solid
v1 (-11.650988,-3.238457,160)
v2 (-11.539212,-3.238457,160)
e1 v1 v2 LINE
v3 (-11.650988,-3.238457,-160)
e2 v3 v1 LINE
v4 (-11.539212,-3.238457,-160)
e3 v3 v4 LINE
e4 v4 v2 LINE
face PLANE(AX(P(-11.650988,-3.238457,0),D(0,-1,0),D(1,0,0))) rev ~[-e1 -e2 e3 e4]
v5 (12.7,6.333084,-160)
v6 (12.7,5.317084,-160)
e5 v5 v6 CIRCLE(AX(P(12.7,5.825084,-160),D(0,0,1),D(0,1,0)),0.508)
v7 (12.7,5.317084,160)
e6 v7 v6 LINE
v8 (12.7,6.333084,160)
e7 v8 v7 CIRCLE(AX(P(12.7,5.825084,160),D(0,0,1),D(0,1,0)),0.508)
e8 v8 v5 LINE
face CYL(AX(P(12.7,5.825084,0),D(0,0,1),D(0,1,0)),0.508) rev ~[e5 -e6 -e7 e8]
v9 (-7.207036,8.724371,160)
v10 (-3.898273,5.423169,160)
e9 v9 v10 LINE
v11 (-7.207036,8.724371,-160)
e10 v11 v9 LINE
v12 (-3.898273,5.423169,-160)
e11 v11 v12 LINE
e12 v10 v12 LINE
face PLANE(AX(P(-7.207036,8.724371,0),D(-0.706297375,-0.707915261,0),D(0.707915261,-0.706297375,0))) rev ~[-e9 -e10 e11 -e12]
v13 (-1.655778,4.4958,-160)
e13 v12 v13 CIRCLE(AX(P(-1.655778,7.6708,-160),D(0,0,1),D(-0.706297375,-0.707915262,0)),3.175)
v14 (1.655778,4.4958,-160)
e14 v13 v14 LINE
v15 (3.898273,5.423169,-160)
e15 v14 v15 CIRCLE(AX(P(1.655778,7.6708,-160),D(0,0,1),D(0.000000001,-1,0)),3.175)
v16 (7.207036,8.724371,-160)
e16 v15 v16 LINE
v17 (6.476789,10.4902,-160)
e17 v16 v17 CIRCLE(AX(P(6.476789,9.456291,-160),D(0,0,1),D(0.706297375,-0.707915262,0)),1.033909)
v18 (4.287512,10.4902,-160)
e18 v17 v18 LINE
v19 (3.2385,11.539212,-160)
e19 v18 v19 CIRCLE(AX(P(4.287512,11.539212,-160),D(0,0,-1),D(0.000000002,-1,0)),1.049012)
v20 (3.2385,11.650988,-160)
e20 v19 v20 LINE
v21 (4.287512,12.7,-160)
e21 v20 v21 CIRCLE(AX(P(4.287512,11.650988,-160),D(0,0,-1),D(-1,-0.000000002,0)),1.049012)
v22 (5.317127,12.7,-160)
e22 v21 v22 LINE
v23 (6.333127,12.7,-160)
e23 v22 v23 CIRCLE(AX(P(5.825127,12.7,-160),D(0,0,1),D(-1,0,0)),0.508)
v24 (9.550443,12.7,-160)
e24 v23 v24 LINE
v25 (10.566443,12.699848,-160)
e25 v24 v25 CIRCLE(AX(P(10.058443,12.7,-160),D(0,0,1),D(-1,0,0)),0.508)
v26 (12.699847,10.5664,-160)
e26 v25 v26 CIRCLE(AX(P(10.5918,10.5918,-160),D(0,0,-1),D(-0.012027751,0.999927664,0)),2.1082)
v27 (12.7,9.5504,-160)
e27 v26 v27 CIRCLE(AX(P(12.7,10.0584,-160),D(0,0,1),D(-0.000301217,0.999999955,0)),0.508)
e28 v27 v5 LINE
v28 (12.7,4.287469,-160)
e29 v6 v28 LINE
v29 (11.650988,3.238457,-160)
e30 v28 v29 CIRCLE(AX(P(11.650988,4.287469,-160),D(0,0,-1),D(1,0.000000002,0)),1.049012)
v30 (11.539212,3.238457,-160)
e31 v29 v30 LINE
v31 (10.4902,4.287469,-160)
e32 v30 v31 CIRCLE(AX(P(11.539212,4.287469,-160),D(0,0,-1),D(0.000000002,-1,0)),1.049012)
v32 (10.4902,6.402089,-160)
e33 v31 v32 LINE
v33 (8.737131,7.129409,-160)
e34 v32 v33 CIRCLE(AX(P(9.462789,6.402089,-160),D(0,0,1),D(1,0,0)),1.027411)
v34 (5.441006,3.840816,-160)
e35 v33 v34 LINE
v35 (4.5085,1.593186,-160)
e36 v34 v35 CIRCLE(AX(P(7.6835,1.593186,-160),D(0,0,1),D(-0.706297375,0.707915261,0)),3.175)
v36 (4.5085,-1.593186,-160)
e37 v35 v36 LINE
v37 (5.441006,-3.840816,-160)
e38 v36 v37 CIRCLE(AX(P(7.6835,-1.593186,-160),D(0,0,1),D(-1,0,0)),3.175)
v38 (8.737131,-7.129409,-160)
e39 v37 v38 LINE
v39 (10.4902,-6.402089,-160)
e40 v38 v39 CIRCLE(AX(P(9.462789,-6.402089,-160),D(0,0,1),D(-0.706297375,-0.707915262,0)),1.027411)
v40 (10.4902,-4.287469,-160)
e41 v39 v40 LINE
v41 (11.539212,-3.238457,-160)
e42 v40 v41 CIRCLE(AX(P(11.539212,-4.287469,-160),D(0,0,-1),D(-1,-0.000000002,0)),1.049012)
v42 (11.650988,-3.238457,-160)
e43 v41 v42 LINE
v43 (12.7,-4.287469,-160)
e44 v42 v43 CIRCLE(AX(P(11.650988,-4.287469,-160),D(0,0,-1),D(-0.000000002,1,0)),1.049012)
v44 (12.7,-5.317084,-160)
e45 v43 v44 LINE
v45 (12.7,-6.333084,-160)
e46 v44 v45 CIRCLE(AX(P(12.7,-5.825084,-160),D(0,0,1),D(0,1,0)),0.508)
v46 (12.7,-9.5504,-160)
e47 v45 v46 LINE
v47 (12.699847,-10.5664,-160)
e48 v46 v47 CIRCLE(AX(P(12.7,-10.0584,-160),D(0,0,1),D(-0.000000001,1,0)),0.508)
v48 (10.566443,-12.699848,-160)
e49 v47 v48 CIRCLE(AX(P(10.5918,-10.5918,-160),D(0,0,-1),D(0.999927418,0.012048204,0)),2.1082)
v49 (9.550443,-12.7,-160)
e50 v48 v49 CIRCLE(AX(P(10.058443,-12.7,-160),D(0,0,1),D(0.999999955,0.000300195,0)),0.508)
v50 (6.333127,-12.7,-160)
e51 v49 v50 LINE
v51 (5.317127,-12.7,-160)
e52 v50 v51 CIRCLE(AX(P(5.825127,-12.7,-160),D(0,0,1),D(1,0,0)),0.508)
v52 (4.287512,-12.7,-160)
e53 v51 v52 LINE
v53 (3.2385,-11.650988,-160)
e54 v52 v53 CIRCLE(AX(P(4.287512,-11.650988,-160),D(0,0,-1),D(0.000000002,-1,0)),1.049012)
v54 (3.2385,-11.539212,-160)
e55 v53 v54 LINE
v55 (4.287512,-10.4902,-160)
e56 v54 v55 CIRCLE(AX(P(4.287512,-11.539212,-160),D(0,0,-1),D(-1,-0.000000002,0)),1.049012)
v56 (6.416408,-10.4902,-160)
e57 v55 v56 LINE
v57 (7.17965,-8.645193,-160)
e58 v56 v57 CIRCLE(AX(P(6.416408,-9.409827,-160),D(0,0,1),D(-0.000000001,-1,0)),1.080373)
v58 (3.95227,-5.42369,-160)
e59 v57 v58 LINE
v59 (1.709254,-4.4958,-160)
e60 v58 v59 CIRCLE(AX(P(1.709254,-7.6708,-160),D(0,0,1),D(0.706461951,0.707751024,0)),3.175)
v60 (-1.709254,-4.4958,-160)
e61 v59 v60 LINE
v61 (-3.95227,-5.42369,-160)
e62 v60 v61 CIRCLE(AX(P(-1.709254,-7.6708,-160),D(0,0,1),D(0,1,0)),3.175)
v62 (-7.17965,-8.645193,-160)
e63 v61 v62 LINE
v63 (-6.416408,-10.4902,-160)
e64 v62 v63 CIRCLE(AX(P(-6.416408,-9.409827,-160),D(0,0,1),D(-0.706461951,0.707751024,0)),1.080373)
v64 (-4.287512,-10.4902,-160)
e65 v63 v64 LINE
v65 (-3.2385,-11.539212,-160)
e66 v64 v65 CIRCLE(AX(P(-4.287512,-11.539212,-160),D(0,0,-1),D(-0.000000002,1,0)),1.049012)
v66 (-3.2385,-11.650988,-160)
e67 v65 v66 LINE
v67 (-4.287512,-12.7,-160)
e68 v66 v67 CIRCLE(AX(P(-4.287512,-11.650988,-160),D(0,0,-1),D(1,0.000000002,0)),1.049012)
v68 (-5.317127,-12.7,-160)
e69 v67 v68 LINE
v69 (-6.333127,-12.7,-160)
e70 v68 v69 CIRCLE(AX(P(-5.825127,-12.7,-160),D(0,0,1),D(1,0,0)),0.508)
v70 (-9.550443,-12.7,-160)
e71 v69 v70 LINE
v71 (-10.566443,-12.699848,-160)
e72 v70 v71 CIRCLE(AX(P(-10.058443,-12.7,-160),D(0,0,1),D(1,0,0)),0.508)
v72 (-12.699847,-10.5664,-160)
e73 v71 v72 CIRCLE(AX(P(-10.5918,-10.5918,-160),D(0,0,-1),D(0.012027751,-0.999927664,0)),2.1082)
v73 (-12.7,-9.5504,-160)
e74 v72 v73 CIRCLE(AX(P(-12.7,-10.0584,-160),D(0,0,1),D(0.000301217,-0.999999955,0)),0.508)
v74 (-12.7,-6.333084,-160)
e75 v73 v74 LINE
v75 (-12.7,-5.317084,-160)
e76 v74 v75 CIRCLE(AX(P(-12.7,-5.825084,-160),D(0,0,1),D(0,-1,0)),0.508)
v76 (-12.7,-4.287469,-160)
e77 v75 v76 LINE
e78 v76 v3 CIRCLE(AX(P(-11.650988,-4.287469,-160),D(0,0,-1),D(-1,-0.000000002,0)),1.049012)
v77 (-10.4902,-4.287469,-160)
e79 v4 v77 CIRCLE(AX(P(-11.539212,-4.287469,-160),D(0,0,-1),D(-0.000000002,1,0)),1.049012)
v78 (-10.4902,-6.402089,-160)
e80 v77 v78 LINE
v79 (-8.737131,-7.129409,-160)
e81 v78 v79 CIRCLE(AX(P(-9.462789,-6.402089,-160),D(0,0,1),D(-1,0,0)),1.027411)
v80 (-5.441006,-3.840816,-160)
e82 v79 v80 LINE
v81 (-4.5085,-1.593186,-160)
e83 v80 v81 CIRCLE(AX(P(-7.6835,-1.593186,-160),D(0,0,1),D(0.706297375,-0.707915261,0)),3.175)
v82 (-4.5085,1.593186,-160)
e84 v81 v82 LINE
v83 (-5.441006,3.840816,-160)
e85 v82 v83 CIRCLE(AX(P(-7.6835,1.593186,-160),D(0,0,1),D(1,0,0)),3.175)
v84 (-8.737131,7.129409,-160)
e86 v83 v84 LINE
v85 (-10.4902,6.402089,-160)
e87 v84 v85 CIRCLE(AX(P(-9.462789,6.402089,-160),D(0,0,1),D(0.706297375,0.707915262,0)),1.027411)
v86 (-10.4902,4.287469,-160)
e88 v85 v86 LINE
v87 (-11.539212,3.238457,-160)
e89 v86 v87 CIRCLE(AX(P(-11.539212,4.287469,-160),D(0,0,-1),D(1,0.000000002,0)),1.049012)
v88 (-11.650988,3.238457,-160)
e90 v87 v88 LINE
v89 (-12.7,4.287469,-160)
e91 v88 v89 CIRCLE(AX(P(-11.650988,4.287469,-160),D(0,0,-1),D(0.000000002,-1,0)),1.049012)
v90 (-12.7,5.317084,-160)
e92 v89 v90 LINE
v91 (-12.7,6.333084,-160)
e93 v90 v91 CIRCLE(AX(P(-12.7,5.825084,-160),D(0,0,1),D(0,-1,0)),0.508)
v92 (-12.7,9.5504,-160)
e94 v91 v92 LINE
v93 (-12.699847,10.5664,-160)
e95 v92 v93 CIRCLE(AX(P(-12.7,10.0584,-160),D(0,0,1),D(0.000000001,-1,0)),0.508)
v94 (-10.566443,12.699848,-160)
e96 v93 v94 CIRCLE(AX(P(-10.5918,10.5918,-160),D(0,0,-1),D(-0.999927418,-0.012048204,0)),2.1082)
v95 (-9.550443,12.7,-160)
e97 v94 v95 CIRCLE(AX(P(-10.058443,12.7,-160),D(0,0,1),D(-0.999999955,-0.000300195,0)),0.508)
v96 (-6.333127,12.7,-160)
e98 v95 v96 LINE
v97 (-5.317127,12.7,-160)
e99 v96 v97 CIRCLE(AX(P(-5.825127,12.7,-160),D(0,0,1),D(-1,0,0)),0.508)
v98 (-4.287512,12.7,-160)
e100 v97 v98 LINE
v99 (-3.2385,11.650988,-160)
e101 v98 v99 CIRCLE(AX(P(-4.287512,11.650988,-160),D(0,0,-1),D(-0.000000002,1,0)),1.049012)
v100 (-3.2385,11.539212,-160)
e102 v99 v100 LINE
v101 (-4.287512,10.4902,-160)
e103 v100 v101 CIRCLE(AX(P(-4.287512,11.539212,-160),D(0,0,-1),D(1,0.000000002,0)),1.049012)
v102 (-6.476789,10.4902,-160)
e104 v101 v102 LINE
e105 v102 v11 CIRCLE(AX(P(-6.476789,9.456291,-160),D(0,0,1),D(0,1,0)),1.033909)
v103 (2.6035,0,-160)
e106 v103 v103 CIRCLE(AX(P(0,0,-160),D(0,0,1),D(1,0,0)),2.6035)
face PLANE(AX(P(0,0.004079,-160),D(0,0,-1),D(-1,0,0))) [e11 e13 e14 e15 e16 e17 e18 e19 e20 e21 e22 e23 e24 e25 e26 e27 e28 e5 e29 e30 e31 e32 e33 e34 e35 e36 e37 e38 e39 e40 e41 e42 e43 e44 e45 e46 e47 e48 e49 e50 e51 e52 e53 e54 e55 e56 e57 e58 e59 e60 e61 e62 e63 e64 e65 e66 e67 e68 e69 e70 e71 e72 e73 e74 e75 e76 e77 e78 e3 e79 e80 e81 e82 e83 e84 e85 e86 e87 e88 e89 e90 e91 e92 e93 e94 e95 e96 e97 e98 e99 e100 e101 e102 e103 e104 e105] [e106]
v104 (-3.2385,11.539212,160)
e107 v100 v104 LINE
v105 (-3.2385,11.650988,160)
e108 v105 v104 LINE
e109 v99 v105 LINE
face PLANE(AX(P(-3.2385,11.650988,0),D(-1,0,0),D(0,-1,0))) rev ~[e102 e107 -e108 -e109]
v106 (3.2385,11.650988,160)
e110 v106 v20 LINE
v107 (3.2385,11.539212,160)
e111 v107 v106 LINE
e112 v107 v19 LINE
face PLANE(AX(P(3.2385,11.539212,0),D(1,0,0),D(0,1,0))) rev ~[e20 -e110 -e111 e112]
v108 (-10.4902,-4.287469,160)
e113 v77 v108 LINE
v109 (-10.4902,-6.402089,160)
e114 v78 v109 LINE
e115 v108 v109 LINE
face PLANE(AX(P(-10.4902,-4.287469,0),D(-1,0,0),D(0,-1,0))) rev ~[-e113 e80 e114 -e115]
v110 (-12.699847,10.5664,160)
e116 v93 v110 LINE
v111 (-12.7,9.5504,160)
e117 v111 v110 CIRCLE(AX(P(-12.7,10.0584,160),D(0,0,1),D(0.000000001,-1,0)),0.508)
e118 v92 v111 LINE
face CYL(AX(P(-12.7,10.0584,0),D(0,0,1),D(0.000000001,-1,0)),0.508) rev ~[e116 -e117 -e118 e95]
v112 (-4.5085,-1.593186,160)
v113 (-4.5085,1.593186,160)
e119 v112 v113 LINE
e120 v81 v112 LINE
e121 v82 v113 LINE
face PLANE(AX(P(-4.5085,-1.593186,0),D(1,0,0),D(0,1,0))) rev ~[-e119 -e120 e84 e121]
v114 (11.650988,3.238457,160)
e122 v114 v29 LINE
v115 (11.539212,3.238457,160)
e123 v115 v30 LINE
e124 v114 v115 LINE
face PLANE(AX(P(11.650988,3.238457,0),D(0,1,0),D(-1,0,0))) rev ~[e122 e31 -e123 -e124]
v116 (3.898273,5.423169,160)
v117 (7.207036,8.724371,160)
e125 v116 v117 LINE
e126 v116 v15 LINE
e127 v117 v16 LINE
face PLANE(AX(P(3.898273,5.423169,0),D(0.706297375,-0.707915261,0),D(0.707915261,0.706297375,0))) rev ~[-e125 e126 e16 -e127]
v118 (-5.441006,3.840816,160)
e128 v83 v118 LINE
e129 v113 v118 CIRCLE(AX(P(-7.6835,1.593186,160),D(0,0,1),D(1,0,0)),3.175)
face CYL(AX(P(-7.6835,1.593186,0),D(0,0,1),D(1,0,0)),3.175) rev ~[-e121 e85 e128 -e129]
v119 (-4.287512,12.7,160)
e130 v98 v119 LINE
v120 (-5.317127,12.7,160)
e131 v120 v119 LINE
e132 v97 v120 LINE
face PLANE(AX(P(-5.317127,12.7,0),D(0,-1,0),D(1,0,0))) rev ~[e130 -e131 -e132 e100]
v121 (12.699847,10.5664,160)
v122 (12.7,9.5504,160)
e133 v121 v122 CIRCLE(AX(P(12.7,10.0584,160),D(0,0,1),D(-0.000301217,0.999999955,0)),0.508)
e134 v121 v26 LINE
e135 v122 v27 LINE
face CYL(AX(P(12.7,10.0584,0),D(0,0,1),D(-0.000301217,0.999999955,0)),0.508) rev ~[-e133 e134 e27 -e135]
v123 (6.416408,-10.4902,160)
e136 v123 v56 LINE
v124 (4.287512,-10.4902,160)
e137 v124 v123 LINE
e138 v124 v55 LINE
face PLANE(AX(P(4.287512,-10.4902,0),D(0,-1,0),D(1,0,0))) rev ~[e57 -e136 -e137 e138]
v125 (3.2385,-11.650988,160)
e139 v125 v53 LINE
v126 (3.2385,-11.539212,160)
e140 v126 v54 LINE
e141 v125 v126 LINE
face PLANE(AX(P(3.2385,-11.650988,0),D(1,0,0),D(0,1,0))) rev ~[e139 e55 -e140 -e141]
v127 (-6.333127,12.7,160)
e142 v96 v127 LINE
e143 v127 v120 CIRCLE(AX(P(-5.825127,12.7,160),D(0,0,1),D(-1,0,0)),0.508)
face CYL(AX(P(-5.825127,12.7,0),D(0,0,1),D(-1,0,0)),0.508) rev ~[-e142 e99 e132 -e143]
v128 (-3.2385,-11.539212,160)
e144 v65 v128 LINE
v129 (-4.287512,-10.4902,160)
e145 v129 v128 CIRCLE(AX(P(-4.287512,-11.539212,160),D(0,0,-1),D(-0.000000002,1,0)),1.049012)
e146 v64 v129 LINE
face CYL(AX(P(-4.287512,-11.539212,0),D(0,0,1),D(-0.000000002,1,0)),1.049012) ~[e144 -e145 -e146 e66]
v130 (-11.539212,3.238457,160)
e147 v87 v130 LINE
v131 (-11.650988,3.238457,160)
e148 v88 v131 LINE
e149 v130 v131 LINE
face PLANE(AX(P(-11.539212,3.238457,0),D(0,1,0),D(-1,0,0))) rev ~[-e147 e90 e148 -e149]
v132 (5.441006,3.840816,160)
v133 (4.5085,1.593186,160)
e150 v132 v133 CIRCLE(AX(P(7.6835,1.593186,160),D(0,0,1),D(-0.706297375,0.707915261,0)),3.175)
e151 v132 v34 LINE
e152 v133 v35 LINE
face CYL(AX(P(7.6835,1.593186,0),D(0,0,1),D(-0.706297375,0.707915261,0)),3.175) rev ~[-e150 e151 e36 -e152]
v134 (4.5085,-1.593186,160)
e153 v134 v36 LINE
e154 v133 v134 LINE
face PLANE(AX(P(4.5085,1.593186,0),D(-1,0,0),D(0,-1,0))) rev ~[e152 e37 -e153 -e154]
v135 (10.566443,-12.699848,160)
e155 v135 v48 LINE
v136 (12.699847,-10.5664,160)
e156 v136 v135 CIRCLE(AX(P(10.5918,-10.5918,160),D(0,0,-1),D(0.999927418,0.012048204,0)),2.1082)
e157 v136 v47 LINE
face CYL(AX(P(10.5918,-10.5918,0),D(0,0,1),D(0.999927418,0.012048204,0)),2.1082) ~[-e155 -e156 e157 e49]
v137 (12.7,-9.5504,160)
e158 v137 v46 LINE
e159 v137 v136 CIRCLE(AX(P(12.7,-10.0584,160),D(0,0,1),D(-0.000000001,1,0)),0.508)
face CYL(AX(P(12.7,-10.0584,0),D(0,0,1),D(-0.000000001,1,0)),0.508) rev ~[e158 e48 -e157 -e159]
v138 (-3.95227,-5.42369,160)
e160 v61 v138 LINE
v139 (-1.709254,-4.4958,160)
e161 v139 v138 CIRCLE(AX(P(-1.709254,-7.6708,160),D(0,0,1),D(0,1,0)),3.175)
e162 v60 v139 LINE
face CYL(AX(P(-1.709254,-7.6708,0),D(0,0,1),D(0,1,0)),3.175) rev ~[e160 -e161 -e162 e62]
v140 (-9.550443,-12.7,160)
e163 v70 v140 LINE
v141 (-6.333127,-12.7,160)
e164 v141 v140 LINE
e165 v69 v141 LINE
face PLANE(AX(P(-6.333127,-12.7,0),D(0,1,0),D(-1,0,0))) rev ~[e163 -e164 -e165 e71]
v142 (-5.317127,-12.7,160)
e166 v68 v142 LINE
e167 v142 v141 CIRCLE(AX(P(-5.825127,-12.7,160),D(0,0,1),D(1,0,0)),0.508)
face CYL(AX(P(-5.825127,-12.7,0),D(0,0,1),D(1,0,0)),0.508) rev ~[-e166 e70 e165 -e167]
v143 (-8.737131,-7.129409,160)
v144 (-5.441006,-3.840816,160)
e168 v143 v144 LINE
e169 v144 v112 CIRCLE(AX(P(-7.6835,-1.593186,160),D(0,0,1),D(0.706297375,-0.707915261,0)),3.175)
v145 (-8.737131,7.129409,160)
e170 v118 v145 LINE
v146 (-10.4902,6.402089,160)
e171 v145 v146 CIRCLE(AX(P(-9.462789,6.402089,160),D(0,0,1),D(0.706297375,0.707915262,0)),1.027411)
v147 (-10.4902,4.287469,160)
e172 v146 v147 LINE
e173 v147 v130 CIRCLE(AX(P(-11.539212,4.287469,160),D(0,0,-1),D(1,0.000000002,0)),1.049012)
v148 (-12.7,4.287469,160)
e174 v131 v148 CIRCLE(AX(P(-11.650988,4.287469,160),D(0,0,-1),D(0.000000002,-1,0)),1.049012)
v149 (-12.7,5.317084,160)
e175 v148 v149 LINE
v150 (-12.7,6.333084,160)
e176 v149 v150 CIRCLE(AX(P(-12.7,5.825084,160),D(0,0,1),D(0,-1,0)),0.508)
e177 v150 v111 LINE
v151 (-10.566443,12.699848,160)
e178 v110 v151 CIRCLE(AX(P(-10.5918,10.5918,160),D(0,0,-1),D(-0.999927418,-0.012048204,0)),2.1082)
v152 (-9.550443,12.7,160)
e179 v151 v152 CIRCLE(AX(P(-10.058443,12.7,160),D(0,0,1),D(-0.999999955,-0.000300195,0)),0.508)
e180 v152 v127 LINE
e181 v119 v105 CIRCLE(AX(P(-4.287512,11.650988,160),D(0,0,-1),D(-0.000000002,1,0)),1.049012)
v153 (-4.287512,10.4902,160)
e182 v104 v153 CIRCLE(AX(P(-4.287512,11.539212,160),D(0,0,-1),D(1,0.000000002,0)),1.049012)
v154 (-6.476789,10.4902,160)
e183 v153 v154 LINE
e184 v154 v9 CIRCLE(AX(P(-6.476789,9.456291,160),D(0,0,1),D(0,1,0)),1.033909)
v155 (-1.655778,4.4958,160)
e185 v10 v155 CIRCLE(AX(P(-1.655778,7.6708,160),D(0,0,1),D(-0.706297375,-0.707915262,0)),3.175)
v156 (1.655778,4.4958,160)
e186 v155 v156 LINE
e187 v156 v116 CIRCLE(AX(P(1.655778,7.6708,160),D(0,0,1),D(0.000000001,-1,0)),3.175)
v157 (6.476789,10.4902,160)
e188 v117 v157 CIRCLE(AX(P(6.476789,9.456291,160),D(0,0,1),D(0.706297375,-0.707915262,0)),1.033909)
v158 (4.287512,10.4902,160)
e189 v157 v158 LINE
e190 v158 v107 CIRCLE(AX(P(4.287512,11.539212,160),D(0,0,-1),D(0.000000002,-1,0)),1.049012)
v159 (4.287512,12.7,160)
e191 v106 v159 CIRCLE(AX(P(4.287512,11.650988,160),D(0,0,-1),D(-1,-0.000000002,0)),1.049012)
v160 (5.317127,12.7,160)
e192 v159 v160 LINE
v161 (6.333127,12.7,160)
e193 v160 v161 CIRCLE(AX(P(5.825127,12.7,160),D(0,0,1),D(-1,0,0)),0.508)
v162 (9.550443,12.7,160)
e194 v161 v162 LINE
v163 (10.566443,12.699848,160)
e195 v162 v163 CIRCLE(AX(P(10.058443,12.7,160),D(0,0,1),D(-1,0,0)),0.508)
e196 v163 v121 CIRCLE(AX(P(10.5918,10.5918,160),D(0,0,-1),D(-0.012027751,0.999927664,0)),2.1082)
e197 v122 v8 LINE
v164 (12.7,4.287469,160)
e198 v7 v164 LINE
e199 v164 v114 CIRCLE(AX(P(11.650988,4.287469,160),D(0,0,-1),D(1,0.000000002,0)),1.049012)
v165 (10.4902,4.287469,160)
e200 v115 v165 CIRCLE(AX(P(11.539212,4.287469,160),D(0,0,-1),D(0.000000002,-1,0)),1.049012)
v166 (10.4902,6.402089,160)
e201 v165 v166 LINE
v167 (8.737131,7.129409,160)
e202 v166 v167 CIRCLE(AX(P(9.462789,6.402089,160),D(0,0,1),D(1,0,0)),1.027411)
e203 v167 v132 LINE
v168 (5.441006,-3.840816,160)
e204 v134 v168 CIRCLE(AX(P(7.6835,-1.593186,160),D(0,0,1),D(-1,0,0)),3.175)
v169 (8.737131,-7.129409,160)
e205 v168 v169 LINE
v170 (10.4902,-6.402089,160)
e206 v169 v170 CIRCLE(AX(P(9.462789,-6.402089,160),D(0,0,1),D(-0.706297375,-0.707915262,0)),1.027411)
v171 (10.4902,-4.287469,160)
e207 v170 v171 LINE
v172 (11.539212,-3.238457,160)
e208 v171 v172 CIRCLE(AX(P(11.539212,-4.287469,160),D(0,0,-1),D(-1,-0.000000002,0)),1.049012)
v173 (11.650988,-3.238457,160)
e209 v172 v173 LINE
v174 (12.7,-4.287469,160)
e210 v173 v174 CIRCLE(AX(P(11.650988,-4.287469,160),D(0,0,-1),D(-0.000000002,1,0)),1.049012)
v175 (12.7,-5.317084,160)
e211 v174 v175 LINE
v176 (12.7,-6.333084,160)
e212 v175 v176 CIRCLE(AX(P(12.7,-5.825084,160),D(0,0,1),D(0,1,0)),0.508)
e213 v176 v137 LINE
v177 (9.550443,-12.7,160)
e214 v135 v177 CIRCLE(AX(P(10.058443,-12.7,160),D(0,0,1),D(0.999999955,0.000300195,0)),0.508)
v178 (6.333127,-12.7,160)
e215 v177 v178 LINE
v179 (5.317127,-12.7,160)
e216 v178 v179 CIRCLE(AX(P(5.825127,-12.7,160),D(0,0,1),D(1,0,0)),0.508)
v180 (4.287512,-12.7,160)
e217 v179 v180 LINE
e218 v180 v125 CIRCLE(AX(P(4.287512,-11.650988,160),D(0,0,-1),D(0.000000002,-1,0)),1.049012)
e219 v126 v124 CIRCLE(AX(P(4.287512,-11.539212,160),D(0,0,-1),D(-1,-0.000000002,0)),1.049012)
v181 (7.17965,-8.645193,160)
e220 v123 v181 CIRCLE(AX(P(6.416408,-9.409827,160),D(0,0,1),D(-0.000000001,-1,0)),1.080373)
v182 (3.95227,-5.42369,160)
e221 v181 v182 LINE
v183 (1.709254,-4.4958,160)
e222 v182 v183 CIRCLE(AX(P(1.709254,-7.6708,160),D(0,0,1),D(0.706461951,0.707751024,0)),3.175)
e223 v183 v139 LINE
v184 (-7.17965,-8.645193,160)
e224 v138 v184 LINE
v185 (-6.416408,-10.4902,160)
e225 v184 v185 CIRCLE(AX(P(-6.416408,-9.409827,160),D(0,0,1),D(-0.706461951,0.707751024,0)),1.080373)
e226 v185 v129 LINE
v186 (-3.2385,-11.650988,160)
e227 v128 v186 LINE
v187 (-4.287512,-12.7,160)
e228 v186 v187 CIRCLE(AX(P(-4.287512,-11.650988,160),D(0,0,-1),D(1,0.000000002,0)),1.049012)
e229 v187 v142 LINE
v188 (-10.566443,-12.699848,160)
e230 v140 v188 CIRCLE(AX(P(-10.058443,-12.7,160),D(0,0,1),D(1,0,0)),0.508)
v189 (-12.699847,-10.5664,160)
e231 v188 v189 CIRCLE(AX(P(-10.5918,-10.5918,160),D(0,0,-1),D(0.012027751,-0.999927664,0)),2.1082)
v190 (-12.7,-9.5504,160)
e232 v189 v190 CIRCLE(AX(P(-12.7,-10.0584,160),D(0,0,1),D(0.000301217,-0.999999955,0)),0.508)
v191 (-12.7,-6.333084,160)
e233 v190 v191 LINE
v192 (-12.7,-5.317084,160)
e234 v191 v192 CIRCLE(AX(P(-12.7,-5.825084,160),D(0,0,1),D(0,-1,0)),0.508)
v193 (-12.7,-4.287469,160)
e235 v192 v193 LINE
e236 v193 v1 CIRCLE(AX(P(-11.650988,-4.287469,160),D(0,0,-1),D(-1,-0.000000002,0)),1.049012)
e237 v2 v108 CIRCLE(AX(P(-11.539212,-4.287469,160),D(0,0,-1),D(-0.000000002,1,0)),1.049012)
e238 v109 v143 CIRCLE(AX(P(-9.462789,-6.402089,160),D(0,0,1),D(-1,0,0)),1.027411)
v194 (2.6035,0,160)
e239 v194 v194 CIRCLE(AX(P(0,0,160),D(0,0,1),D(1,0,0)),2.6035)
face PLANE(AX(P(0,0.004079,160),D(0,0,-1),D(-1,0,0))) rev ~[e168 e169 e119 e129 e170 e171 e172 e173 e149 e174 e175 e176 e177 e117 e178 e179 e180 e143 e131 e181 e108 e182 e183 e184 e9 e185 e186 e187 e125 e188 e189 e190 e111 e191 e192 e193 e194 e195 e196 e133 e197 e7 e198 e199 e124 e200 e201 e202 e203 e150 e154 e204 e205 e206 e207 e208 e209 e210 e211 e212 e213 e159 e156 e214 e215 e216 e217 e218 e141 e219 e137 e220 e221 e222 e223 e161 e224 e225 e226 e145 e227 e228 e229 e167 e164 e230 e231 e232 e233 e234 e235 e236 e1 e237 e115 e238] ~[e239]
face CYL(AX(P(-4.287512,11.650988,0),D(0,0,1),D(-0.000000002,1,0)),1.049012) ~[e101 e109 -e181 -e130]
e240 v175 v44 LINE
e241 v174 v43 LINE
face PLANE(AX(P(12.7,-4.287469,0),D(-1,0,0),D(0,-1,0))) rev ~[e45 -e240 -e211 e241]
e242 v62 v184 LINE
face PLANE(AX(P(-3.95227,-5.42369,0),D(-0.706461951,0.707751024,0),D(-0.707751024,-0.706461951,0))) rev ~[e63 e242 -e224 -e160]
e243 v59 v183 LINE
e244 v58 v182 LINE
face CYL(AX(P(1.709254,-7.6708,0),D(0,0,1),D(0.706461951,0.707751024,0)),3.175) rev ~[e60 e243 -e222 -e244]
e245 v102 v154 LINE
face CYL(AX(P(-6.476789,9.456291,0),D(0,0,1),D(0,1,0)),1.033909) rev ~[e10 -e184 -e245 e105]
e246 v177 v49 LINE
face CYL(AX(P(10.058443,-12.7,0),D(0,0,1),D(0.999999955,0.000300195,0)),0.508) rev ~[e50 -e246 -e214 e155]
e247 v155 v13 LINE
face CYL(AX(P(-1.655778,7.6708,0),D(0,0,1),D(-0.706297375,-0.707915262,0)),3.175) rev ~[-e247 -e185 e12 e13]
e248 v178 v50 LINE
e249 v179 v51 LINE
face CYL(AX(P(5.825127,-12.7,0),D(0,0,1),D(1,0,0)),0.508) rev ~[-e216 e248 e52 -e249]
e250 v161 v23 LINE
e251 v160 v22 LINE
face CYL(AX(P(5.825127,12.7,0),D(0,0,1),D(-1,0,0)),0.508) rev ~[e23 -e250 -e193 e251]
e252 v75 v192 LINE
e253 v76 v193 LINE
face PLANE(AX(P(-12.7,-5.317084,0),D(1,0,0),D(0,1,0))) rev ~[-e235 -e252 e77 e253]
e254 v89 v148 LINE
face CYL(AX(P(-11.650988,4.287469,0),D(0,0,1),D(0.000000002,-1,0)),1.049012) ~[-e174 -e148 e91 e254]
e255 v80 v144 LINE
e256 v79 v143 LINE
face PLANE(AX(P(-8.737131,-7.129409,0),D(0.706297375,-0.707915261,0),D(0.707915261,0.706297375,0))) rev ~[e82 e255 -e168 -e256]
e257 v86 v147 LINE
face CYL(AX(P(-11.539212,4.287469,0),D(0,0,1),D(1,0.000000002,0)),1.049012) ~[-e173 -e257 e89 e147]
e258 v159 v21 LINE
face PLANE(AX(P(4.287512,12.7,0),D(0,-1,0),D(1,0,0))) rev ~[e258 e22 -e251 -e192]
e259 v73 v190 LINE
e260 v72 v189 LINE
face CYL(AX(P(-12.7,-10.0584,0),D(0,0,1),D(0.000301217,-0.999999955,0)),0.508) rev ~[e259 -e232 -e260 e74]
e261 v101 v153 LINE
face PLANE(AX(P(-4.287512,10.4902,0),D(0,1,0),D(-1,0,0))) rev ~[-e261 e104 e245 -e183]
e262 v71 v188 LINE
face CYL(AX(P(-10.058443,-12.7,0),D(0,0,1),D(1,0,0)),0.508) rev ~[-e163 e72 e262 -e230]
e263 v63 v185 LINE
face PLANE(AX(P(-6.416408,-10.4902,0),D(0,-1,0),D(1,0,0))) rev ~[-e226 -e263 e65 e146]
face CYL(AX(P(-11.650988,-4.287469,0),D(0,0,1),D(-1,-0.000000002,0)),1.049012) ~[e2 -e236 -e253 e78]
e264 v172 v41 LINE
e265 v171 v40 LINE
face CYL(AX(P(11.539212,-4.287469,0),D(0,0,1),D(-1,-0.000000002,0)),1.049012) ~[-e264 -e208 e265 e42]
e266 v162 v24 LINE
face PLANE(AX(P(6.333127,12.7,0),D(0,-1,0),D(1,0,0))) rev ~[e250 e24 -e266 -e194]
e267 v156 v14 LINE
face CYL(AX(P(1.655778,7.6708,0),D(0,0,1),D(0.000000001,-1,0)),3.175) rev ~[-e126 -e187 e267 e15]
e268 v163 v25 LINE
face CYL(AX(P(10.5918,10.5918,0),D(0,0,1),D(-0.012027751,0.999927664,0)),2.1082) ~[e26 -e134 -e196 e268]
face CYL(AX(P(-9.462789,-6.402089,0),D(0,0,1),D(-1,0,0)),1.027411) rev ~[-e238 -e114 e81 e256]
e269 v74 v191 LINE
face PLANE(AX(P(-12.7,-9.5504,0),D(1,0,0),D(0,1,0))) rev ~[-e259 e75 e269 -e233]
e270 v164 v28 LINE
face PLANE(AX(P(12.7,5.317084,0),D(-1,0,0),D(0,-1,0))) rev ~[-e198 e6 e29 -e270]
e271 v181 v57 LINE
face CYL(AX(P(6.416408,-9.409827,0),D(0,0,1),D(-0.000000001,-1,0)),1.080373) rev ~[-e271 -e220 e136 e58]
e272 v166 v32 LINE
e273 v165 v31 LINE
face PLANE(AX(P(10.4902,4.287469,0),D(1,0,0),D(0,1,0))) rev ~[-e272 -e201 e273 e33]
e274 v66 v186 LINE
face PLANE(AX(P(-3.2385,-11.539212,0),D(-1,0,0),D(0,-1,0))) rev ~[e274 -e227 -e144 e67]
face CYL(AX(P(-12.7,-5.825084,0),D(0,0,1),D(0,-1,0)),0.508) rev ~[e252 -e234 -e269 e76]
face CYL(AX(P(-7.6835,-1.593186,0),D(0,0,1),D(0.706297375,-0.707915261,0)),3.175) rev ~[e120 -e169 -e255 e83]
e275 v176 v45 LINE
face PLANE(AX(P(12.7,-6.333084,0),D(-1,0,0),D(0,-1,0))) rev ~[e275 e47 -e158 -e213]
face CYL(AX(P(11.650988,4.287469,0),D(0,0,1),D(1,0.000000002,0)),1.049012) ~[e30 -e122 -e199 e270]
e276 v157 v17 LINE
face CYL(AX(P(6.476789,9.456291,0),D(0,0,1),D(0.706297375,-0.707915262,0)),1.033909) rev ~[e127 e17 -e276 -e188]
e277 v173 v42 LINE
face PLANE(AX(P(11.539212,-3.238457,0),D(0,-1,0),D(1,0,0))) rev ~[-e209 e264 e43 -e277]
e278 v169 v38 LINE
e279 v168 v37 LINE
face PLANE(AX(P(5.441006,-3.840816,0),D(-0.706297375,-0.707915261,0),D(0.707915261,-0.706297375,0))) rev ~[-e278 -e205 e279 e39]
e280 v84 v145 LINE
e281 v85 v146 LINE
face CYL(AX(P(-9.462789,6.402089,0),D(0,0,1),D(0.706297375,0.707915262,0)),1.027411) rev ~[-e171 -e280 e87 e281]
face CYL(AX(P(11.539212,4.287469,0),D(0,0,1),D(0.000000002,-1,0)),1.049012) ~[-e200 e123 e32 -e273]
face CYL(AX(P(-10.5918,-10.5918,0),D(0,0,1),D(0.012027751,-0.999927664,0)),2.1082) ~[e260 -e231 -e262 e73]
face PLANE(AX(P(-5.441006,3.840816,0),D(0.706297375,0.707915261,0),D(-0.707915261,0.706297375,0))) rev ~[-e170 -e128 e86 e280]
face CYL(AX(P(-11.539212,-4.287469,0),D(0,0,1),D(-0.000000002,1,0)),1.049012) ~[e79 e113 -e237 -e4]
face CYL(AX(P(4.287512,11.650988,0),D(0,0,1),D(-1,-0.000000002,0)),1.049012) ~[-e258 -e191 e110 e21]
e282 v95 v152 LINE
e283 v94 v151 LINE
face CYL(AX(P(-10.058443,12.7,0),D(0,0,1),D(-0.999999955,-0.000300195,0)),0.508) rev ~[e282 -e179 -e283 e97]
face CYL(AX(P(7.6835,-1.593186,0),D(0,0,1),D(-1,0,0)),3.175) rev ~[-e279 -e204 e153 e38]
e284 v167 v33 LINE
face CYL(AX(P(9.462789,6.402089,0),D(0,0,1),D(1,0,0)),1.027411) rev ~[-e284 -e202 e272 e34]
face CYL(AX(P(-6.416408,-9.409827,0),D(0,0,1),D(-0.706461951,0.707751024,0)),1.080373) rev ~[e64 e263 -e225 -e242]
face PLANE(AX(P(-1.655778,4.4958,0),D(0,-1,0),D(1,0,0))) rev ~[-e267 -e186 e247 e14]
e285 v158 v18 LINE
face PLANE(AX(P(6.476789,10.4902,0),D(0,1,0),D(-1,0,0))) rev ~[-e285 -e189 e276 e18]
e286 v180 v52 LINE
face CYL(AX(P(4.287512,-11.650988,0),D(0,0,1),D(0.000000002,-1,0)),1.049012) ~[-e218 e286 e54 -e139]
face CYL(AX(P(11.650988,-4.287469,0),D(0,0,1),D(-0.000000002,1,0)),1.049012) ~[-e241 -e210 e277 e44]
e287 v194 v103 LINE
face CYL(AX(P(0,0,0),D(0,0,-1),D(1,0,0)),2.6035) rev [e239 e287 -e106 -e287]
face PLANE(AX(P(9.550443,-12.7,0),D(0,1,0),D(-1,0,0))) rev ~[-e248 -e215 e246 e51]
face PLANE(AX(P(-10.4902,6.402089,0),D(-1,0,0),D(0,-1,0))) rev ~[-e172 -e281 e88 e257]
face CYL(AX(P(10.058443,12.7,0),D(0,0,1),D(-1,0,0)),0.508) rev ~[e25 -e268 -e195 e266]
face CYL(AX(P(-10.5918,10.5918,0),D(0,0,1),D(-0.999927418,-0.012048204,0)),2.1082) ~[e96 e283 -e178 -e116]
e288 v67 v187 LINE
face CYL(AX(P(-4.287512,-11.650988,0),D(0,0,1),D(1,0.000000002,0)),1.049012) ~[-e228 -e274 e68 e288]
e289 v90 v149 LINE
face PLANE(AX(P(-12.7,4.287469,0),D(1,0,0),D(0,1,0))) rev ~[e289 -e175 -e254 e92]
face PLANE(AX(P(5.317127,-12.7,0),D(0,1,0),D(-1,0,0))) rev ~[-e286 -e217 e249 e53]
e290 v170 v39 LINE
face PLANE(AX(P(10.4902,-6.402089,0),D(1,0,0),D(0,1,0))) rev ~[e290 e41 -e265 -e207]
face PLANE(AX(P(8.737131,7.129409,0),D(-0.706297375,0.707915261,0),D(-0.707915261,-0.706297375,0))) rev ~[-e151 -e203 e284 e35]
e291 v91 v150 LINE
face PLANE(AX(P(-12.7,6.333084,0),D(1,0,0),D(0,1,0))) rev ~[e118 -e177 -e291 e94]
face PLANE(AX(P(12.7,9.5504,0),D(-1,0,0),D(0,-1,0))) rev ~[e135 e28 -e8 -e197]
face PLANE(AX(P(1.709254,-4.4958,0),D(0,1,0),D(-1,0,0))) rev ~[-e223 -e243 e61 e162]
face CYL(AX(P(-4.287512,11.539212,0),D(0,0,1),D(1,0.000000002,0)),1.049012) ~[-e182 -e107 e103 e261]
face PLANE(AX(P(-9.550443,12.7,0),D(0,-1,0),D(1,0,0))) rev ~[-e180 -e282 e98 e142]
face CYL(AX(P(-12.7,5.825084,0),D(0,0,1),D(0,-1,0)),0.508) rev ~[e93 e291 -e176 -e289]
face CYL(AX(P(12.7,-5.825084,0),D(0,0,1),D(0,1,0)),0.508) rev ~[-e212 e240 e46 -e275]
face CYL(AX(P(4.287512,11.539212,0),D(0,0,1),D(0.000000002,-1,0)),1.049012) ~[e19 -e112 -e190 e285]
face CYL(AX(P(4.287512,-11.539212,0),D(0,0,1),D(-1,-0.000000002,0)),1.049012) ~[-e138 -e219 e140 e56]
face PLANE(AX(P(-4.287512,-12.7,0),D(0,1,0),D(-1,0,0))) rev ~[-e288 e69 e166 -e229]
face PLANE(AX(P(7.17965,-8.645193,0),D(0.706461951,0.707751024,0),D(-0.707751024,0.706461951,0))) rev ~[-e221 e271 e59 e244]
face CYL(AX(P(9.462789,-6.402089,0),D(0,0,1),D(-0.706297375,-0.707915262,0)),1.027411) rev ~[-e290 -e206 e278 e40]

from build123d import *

# Parameters (mm, degrees)
SKETCH1_R      = 2.6035
EXTRUDE1_DEPTH = 160


with BuildPart() as part:
    # Sketch1 → Extrude1 (new body, symmetric)
    with BuildSketch(Plane.XY):
        with BuildLine():
            Line((-7.207036008, 8.724370562), (-3.898272566, 5.423169045))
            ThreePointArc((-3.898272566, 5.423169045), (-2.869120213, 4.736787962), (-1.655778399, 4.4958))
            Line((-1.655778399, 4.4958), (1.655778399, 4.4958))
            ThreePointArc((1.655778399, 4.4958), (2.869120213, 4.736787962), (3.898272566, 5.423169045))
            Line((3.898272566, 5.423169045), (7.207036008, 8.724370562))
            ThreePointArc((7.207036008, 8.724370562), (7.432222385, 9.85140422), (6.476788598, 10.4902))
            Line((6.476788598, 10.4902), (4.287512407, 10.4902))
            ThreePointArc((4.287512407, 10.4902), (3.54574862, 10.79744862), (3.2385, 11.539212407))
            Line((3.2385, 11.539212407), (3.2385, 11.650987593))
            ThreePointArc((3.2385, 11.650987593), (3.54574862, 12.39275138), (4.287512407, 12.7))
            Line((4.287512407, 12.7), (5.317126718, 12.7))
            ThreePointArc((5.317126718, 12.7), (5.825126718, 12.192), (6.333126718, 12.7))
            Line((6.333126718, 12.7), (9.550443118, 12.7))
            ThreePointArc((9.550443118, 12.7), (10.058366869, 12.192000006), (10.566443095, 12.699847501))
            ThreePointArc((10.566443095, 12.699847501), (12.082537762, 12.08250727), (12.699846982, 10.566399977))
            ThreePointArc((12.699846982, 10.566399977), (12.192000006, 10.058323491), (12.7, 9.5504))
            Line((12.7, 9.5504), (12.7, 6.3330836))
            ThreePointArc((12.7, 6.3330836), (12.192, 5.8250836), (12.7, 5.3170836))
            Line((12.7, 5.3170836), (12.7, 4.287469289))
            ThreePointArc((12.7, 4.287469289), (12.39275138, 3.545705502), (11.650987593, 3.238456882))
            Line((11.650987593, 3.238456882), (11.539212407, 3.238456882))
            ThreePointArc((11.539212407, 3.238456882), (10.79744862, 3.545705502), (10.4902, 4.287469289))
            Line((10.4902, 4.287469289), (10.4902, 6.402089023))
            ThreePointArc((10.4902, 6.402089023), (9.856505071, 7.351067942), (8.737131347, 7.129408934))
            Line((8.737131347, 7.129408934), (5.441005833, 3.840816462))
            ThreePointArc((5.441005833, 3.840816462), (4.750877967, 2.809883091), (4.5085, 1.593185507))
            Line((4.5085, 1.593185507), (4.5085, -1.593185507))
            ThreePointArc((4.5085, -1.593185507), (4.750877967, -2.809883091), (5.441005833, -3.840816462))
            Line((5.441005833, -3.840816462), (8.737131347, -7.129408934))
            ThreePointArc((8.737131347, -7.129408934), (9.856505071, -7.351067942), (10.4902, -6.402089023))
            Line((10.4902, -6.402089023), (10.4902, -4.287469289))
            ThreePointArc((10.4902, -4.287469289), (10.79744862, -3.545705502), (11.539212407, -3.238456882))
            Line((11.539212407, -3.238456882), (11.650987593, -3.238456882))
            ThreePointArc((11.650987593, -3.238456882), (12.39275138, -3.545705502), (12.7, -4.287469289))
            Line((12.7, -4.287469289), (12.7, -5.3170836))
            ThreePointArc((12.7, -5.3170836), (12.192, -5.8250836), (12.7, -6.3330836))
            Line((12.7, -6.3330836), (12.7, -9.5504))
            ThreePointArc((12.7, -9.5504), (12.192000006, -10.058323491), (12.699846982, -10.566399977))
            ThreePointArc((12.699846982, -10.566399977), (12.082537762, -12.08250727), (10.566443095, -12.699847501))
            ThreePointArc((10.566443095, -12.699847501), (10.058366869, -12.192000006), (9.550443118, -12.7))
            Line((9.550443118, -12.7), (6.333126718, -12.7))
            ThreePointArc((6.333126718, -12.7), (5.825126718, -12.192), (5.317126718, -12.7))
            Line((5.317126718, -12.7), (4.287512407, -12.7))
            ThreePointArc((4.287512407, -12.7), (3.54574862, -12.39275138), (3.2385, -11.650987593))
            Line((3.2385, -11.650987593), (3.2385, -11.539212407))
            ThreePointArc((3.2385, -11.539212407), (3.54574862, -10.79744862), (4.287512407, -10.4902))
            Line((4.287512407, -10.4902), (6.416408329, -10.4902))
            ThreePointArc((6.416408329, -10.4902), (7.41473083, -9.822813117), (7.179650497, -8.645192506))
            Line((7.179650497, -8.645192506), (3.952270251, -5.423690499))
            ThreePointArc((3.952270251, -5.423690499), (2.922936451, -4.736929036), (1.709253557, -4.4958))
            Line((1.709253557, -4.4958), (-1.709253557, -4.4958))
            ThreePointArc((-1.709253557, -4.4958), (-2.922936451, -4.736929036), (-3.952270251, -5.423690499))
            Line((-3.952270251, -5.423690499), (-7.179650497, -8.645192506))
            ThreePointArc((-7.179650497, -8.645192506), (-7.41473083, -9.822813117), (-6.416408329, -10.4902))
            Line((-6.416408329, -10.4902), (-4.287512407, -10.4902))
            ThreePointArc((-4.287512407, -10.4902), (-3.54574862, -10.79744862), (-3.2385, -11.539212407))
            Line((-3.2385, -11.539212407), (-3.2385, -11.650987593))
            ThreePointArc((-3.2385, -11.650987593), (-3.54574862, -12.39275138), (-4.287512407, -12.7))
            Line((-4.287512407, -12.7), (-5.317126718, -12.7))
            ThreePointArc((-5.317126718, -12.7), (-5.825126718, -12.192), (-6.333126718, -12.7))
            Line((-6.333126718, -12.7), (-9.550443118, -12.7))
            ThreePointArc((-9.550443118, -12.7), (-10.058366869, -12.192000006), (-10.566443095, -12.699847501))
            ThreePointArc((-10.566443095, -12.699847501), (-12.082537762, -12.08250727), (-12.699846982, -10.566399977))
            ThreePointArc((-12.699846982, -10.566399977), (-12.192000006, -10.058323491), (-12.7, -9.5504))
            Line((-12.7, -9.5504), (-12.7, -6.3330836))
            ThreePointArc((-12.7, -6.3330836), (-12.192, -5.8250836), (-12.7, -5.3170836))
            Line((-12.7, -5.3170836), (-12.7, -4.287469289))
            ThreePointArc((-12.7, -4.287469289), (-12.39275138, -3.545705502), (-11.650987593, -3.238456882))
            Line((-11.650987593, -3.238456882), (-11.539212407, -3.238456882))
            ThreePointArc((-11.539212407, -3.238456882), (-10.79744862, -3.545705502), (-10.4902, -4.287469289))
            Line((-10.4902, -4.287469289), (-10.4902, -6.402089023))
            ThreePointArc((-10.4902, -6.402089023), (-9.856505071, -7.351067942), (-8.737131347, -7.129408934))
            Line((-8.737131347, -7.129408934), (-5.441005833, -3.840816462))
            ThreePointArc((-5.441005833, -3.840816462), (-4.750877967, -2.809883091), (-4.5085, -1.593185507))
            Line((-4.5085, -1.593185507), (-4.5085, 1.593185507))
            ThreePointArc((-4.5085, 1.593185507), (-4.750877967, 2.809883091), (-5.441005833, 3.840816462))
            Line((-5.441005833, 3.840816462), (-8.737131347, 7.129408934))
            ThreePointArc((-8.737131347, 7.129408934), (-9.856505071, 7.351067942), (-10.4902, 6.402089023))
            Line((-10.4902, 6.402089023), (-10.4902, 4.287469289))
            ThreePointArc((-10.4902, 4.287469289), (-10.79744862, 3.545705502), (-11.539212407, 3.238456882))
            Line((-11.539212407, 3.238456882), (-11.650987593, 3.238456882))
            ThreePointArc((-11.650987593, 3.238456882), (-12.39275138, 3.545705502), (-12.7, 4.287469289))
            Line((-12.7, 4.287469289), (-12.7, 5.3170836))
            ThreePointArc((-12.7, 5.3170836), (-12.192, 5.8250836), (-12.7, 6.3330836))
            Line((-12.7, 6.3330836), (-12.7, 9.5504))
            ThreePointArc((-12.7, 9.5504), (-12.192000006, 10.058323491), (-12.699846982, 10.566399977))
            ThreePointArc((-12.699846982, 10.566399977), (-12.082537762, 12.08250727), (-10.566443095, 12.699847501))
            ThreePointArc((-10.566443095, 12.699847501), (-10.058366869, 12.192000006), (-9.550443118, 12.7))
            Line((-9.550443118, 12.7), (-6.333126718, 12.7))
            ThreePointArc((-6.333126718, 12.7), (-5.825126718, 12.192), (-5.317126718, 12.7))
            Line((-5.317126718, 12.7), (-4.287512407, 12.7))
            ThreePointArc((-4.287512407, 12.7), (-3.54574862, 12.39275138), (-3.2385, 11.650987593))
            Line((-3.2385, 11.650987593), (-3.2385, 11.539212407))
            ThreePointArc((-3.2385, 11.539212407), (-3.54574862, 10.79744862), (-4.287512407, 10.4902))
            Line((-4.287512407, 10.4902), (-6.476788598, 10.4902))
            ThreePointArc((-6.476788598, 10.4902), (-7.432222385, 9.85140422), (-7.207036008, 8.724370562))
        make_face()
        Circle(SKETCH1_R, mode=Mode.SUBTRACT)
    extrude(amount=EXTRUDE1_DEPTH, both=True)


solid = part.part
